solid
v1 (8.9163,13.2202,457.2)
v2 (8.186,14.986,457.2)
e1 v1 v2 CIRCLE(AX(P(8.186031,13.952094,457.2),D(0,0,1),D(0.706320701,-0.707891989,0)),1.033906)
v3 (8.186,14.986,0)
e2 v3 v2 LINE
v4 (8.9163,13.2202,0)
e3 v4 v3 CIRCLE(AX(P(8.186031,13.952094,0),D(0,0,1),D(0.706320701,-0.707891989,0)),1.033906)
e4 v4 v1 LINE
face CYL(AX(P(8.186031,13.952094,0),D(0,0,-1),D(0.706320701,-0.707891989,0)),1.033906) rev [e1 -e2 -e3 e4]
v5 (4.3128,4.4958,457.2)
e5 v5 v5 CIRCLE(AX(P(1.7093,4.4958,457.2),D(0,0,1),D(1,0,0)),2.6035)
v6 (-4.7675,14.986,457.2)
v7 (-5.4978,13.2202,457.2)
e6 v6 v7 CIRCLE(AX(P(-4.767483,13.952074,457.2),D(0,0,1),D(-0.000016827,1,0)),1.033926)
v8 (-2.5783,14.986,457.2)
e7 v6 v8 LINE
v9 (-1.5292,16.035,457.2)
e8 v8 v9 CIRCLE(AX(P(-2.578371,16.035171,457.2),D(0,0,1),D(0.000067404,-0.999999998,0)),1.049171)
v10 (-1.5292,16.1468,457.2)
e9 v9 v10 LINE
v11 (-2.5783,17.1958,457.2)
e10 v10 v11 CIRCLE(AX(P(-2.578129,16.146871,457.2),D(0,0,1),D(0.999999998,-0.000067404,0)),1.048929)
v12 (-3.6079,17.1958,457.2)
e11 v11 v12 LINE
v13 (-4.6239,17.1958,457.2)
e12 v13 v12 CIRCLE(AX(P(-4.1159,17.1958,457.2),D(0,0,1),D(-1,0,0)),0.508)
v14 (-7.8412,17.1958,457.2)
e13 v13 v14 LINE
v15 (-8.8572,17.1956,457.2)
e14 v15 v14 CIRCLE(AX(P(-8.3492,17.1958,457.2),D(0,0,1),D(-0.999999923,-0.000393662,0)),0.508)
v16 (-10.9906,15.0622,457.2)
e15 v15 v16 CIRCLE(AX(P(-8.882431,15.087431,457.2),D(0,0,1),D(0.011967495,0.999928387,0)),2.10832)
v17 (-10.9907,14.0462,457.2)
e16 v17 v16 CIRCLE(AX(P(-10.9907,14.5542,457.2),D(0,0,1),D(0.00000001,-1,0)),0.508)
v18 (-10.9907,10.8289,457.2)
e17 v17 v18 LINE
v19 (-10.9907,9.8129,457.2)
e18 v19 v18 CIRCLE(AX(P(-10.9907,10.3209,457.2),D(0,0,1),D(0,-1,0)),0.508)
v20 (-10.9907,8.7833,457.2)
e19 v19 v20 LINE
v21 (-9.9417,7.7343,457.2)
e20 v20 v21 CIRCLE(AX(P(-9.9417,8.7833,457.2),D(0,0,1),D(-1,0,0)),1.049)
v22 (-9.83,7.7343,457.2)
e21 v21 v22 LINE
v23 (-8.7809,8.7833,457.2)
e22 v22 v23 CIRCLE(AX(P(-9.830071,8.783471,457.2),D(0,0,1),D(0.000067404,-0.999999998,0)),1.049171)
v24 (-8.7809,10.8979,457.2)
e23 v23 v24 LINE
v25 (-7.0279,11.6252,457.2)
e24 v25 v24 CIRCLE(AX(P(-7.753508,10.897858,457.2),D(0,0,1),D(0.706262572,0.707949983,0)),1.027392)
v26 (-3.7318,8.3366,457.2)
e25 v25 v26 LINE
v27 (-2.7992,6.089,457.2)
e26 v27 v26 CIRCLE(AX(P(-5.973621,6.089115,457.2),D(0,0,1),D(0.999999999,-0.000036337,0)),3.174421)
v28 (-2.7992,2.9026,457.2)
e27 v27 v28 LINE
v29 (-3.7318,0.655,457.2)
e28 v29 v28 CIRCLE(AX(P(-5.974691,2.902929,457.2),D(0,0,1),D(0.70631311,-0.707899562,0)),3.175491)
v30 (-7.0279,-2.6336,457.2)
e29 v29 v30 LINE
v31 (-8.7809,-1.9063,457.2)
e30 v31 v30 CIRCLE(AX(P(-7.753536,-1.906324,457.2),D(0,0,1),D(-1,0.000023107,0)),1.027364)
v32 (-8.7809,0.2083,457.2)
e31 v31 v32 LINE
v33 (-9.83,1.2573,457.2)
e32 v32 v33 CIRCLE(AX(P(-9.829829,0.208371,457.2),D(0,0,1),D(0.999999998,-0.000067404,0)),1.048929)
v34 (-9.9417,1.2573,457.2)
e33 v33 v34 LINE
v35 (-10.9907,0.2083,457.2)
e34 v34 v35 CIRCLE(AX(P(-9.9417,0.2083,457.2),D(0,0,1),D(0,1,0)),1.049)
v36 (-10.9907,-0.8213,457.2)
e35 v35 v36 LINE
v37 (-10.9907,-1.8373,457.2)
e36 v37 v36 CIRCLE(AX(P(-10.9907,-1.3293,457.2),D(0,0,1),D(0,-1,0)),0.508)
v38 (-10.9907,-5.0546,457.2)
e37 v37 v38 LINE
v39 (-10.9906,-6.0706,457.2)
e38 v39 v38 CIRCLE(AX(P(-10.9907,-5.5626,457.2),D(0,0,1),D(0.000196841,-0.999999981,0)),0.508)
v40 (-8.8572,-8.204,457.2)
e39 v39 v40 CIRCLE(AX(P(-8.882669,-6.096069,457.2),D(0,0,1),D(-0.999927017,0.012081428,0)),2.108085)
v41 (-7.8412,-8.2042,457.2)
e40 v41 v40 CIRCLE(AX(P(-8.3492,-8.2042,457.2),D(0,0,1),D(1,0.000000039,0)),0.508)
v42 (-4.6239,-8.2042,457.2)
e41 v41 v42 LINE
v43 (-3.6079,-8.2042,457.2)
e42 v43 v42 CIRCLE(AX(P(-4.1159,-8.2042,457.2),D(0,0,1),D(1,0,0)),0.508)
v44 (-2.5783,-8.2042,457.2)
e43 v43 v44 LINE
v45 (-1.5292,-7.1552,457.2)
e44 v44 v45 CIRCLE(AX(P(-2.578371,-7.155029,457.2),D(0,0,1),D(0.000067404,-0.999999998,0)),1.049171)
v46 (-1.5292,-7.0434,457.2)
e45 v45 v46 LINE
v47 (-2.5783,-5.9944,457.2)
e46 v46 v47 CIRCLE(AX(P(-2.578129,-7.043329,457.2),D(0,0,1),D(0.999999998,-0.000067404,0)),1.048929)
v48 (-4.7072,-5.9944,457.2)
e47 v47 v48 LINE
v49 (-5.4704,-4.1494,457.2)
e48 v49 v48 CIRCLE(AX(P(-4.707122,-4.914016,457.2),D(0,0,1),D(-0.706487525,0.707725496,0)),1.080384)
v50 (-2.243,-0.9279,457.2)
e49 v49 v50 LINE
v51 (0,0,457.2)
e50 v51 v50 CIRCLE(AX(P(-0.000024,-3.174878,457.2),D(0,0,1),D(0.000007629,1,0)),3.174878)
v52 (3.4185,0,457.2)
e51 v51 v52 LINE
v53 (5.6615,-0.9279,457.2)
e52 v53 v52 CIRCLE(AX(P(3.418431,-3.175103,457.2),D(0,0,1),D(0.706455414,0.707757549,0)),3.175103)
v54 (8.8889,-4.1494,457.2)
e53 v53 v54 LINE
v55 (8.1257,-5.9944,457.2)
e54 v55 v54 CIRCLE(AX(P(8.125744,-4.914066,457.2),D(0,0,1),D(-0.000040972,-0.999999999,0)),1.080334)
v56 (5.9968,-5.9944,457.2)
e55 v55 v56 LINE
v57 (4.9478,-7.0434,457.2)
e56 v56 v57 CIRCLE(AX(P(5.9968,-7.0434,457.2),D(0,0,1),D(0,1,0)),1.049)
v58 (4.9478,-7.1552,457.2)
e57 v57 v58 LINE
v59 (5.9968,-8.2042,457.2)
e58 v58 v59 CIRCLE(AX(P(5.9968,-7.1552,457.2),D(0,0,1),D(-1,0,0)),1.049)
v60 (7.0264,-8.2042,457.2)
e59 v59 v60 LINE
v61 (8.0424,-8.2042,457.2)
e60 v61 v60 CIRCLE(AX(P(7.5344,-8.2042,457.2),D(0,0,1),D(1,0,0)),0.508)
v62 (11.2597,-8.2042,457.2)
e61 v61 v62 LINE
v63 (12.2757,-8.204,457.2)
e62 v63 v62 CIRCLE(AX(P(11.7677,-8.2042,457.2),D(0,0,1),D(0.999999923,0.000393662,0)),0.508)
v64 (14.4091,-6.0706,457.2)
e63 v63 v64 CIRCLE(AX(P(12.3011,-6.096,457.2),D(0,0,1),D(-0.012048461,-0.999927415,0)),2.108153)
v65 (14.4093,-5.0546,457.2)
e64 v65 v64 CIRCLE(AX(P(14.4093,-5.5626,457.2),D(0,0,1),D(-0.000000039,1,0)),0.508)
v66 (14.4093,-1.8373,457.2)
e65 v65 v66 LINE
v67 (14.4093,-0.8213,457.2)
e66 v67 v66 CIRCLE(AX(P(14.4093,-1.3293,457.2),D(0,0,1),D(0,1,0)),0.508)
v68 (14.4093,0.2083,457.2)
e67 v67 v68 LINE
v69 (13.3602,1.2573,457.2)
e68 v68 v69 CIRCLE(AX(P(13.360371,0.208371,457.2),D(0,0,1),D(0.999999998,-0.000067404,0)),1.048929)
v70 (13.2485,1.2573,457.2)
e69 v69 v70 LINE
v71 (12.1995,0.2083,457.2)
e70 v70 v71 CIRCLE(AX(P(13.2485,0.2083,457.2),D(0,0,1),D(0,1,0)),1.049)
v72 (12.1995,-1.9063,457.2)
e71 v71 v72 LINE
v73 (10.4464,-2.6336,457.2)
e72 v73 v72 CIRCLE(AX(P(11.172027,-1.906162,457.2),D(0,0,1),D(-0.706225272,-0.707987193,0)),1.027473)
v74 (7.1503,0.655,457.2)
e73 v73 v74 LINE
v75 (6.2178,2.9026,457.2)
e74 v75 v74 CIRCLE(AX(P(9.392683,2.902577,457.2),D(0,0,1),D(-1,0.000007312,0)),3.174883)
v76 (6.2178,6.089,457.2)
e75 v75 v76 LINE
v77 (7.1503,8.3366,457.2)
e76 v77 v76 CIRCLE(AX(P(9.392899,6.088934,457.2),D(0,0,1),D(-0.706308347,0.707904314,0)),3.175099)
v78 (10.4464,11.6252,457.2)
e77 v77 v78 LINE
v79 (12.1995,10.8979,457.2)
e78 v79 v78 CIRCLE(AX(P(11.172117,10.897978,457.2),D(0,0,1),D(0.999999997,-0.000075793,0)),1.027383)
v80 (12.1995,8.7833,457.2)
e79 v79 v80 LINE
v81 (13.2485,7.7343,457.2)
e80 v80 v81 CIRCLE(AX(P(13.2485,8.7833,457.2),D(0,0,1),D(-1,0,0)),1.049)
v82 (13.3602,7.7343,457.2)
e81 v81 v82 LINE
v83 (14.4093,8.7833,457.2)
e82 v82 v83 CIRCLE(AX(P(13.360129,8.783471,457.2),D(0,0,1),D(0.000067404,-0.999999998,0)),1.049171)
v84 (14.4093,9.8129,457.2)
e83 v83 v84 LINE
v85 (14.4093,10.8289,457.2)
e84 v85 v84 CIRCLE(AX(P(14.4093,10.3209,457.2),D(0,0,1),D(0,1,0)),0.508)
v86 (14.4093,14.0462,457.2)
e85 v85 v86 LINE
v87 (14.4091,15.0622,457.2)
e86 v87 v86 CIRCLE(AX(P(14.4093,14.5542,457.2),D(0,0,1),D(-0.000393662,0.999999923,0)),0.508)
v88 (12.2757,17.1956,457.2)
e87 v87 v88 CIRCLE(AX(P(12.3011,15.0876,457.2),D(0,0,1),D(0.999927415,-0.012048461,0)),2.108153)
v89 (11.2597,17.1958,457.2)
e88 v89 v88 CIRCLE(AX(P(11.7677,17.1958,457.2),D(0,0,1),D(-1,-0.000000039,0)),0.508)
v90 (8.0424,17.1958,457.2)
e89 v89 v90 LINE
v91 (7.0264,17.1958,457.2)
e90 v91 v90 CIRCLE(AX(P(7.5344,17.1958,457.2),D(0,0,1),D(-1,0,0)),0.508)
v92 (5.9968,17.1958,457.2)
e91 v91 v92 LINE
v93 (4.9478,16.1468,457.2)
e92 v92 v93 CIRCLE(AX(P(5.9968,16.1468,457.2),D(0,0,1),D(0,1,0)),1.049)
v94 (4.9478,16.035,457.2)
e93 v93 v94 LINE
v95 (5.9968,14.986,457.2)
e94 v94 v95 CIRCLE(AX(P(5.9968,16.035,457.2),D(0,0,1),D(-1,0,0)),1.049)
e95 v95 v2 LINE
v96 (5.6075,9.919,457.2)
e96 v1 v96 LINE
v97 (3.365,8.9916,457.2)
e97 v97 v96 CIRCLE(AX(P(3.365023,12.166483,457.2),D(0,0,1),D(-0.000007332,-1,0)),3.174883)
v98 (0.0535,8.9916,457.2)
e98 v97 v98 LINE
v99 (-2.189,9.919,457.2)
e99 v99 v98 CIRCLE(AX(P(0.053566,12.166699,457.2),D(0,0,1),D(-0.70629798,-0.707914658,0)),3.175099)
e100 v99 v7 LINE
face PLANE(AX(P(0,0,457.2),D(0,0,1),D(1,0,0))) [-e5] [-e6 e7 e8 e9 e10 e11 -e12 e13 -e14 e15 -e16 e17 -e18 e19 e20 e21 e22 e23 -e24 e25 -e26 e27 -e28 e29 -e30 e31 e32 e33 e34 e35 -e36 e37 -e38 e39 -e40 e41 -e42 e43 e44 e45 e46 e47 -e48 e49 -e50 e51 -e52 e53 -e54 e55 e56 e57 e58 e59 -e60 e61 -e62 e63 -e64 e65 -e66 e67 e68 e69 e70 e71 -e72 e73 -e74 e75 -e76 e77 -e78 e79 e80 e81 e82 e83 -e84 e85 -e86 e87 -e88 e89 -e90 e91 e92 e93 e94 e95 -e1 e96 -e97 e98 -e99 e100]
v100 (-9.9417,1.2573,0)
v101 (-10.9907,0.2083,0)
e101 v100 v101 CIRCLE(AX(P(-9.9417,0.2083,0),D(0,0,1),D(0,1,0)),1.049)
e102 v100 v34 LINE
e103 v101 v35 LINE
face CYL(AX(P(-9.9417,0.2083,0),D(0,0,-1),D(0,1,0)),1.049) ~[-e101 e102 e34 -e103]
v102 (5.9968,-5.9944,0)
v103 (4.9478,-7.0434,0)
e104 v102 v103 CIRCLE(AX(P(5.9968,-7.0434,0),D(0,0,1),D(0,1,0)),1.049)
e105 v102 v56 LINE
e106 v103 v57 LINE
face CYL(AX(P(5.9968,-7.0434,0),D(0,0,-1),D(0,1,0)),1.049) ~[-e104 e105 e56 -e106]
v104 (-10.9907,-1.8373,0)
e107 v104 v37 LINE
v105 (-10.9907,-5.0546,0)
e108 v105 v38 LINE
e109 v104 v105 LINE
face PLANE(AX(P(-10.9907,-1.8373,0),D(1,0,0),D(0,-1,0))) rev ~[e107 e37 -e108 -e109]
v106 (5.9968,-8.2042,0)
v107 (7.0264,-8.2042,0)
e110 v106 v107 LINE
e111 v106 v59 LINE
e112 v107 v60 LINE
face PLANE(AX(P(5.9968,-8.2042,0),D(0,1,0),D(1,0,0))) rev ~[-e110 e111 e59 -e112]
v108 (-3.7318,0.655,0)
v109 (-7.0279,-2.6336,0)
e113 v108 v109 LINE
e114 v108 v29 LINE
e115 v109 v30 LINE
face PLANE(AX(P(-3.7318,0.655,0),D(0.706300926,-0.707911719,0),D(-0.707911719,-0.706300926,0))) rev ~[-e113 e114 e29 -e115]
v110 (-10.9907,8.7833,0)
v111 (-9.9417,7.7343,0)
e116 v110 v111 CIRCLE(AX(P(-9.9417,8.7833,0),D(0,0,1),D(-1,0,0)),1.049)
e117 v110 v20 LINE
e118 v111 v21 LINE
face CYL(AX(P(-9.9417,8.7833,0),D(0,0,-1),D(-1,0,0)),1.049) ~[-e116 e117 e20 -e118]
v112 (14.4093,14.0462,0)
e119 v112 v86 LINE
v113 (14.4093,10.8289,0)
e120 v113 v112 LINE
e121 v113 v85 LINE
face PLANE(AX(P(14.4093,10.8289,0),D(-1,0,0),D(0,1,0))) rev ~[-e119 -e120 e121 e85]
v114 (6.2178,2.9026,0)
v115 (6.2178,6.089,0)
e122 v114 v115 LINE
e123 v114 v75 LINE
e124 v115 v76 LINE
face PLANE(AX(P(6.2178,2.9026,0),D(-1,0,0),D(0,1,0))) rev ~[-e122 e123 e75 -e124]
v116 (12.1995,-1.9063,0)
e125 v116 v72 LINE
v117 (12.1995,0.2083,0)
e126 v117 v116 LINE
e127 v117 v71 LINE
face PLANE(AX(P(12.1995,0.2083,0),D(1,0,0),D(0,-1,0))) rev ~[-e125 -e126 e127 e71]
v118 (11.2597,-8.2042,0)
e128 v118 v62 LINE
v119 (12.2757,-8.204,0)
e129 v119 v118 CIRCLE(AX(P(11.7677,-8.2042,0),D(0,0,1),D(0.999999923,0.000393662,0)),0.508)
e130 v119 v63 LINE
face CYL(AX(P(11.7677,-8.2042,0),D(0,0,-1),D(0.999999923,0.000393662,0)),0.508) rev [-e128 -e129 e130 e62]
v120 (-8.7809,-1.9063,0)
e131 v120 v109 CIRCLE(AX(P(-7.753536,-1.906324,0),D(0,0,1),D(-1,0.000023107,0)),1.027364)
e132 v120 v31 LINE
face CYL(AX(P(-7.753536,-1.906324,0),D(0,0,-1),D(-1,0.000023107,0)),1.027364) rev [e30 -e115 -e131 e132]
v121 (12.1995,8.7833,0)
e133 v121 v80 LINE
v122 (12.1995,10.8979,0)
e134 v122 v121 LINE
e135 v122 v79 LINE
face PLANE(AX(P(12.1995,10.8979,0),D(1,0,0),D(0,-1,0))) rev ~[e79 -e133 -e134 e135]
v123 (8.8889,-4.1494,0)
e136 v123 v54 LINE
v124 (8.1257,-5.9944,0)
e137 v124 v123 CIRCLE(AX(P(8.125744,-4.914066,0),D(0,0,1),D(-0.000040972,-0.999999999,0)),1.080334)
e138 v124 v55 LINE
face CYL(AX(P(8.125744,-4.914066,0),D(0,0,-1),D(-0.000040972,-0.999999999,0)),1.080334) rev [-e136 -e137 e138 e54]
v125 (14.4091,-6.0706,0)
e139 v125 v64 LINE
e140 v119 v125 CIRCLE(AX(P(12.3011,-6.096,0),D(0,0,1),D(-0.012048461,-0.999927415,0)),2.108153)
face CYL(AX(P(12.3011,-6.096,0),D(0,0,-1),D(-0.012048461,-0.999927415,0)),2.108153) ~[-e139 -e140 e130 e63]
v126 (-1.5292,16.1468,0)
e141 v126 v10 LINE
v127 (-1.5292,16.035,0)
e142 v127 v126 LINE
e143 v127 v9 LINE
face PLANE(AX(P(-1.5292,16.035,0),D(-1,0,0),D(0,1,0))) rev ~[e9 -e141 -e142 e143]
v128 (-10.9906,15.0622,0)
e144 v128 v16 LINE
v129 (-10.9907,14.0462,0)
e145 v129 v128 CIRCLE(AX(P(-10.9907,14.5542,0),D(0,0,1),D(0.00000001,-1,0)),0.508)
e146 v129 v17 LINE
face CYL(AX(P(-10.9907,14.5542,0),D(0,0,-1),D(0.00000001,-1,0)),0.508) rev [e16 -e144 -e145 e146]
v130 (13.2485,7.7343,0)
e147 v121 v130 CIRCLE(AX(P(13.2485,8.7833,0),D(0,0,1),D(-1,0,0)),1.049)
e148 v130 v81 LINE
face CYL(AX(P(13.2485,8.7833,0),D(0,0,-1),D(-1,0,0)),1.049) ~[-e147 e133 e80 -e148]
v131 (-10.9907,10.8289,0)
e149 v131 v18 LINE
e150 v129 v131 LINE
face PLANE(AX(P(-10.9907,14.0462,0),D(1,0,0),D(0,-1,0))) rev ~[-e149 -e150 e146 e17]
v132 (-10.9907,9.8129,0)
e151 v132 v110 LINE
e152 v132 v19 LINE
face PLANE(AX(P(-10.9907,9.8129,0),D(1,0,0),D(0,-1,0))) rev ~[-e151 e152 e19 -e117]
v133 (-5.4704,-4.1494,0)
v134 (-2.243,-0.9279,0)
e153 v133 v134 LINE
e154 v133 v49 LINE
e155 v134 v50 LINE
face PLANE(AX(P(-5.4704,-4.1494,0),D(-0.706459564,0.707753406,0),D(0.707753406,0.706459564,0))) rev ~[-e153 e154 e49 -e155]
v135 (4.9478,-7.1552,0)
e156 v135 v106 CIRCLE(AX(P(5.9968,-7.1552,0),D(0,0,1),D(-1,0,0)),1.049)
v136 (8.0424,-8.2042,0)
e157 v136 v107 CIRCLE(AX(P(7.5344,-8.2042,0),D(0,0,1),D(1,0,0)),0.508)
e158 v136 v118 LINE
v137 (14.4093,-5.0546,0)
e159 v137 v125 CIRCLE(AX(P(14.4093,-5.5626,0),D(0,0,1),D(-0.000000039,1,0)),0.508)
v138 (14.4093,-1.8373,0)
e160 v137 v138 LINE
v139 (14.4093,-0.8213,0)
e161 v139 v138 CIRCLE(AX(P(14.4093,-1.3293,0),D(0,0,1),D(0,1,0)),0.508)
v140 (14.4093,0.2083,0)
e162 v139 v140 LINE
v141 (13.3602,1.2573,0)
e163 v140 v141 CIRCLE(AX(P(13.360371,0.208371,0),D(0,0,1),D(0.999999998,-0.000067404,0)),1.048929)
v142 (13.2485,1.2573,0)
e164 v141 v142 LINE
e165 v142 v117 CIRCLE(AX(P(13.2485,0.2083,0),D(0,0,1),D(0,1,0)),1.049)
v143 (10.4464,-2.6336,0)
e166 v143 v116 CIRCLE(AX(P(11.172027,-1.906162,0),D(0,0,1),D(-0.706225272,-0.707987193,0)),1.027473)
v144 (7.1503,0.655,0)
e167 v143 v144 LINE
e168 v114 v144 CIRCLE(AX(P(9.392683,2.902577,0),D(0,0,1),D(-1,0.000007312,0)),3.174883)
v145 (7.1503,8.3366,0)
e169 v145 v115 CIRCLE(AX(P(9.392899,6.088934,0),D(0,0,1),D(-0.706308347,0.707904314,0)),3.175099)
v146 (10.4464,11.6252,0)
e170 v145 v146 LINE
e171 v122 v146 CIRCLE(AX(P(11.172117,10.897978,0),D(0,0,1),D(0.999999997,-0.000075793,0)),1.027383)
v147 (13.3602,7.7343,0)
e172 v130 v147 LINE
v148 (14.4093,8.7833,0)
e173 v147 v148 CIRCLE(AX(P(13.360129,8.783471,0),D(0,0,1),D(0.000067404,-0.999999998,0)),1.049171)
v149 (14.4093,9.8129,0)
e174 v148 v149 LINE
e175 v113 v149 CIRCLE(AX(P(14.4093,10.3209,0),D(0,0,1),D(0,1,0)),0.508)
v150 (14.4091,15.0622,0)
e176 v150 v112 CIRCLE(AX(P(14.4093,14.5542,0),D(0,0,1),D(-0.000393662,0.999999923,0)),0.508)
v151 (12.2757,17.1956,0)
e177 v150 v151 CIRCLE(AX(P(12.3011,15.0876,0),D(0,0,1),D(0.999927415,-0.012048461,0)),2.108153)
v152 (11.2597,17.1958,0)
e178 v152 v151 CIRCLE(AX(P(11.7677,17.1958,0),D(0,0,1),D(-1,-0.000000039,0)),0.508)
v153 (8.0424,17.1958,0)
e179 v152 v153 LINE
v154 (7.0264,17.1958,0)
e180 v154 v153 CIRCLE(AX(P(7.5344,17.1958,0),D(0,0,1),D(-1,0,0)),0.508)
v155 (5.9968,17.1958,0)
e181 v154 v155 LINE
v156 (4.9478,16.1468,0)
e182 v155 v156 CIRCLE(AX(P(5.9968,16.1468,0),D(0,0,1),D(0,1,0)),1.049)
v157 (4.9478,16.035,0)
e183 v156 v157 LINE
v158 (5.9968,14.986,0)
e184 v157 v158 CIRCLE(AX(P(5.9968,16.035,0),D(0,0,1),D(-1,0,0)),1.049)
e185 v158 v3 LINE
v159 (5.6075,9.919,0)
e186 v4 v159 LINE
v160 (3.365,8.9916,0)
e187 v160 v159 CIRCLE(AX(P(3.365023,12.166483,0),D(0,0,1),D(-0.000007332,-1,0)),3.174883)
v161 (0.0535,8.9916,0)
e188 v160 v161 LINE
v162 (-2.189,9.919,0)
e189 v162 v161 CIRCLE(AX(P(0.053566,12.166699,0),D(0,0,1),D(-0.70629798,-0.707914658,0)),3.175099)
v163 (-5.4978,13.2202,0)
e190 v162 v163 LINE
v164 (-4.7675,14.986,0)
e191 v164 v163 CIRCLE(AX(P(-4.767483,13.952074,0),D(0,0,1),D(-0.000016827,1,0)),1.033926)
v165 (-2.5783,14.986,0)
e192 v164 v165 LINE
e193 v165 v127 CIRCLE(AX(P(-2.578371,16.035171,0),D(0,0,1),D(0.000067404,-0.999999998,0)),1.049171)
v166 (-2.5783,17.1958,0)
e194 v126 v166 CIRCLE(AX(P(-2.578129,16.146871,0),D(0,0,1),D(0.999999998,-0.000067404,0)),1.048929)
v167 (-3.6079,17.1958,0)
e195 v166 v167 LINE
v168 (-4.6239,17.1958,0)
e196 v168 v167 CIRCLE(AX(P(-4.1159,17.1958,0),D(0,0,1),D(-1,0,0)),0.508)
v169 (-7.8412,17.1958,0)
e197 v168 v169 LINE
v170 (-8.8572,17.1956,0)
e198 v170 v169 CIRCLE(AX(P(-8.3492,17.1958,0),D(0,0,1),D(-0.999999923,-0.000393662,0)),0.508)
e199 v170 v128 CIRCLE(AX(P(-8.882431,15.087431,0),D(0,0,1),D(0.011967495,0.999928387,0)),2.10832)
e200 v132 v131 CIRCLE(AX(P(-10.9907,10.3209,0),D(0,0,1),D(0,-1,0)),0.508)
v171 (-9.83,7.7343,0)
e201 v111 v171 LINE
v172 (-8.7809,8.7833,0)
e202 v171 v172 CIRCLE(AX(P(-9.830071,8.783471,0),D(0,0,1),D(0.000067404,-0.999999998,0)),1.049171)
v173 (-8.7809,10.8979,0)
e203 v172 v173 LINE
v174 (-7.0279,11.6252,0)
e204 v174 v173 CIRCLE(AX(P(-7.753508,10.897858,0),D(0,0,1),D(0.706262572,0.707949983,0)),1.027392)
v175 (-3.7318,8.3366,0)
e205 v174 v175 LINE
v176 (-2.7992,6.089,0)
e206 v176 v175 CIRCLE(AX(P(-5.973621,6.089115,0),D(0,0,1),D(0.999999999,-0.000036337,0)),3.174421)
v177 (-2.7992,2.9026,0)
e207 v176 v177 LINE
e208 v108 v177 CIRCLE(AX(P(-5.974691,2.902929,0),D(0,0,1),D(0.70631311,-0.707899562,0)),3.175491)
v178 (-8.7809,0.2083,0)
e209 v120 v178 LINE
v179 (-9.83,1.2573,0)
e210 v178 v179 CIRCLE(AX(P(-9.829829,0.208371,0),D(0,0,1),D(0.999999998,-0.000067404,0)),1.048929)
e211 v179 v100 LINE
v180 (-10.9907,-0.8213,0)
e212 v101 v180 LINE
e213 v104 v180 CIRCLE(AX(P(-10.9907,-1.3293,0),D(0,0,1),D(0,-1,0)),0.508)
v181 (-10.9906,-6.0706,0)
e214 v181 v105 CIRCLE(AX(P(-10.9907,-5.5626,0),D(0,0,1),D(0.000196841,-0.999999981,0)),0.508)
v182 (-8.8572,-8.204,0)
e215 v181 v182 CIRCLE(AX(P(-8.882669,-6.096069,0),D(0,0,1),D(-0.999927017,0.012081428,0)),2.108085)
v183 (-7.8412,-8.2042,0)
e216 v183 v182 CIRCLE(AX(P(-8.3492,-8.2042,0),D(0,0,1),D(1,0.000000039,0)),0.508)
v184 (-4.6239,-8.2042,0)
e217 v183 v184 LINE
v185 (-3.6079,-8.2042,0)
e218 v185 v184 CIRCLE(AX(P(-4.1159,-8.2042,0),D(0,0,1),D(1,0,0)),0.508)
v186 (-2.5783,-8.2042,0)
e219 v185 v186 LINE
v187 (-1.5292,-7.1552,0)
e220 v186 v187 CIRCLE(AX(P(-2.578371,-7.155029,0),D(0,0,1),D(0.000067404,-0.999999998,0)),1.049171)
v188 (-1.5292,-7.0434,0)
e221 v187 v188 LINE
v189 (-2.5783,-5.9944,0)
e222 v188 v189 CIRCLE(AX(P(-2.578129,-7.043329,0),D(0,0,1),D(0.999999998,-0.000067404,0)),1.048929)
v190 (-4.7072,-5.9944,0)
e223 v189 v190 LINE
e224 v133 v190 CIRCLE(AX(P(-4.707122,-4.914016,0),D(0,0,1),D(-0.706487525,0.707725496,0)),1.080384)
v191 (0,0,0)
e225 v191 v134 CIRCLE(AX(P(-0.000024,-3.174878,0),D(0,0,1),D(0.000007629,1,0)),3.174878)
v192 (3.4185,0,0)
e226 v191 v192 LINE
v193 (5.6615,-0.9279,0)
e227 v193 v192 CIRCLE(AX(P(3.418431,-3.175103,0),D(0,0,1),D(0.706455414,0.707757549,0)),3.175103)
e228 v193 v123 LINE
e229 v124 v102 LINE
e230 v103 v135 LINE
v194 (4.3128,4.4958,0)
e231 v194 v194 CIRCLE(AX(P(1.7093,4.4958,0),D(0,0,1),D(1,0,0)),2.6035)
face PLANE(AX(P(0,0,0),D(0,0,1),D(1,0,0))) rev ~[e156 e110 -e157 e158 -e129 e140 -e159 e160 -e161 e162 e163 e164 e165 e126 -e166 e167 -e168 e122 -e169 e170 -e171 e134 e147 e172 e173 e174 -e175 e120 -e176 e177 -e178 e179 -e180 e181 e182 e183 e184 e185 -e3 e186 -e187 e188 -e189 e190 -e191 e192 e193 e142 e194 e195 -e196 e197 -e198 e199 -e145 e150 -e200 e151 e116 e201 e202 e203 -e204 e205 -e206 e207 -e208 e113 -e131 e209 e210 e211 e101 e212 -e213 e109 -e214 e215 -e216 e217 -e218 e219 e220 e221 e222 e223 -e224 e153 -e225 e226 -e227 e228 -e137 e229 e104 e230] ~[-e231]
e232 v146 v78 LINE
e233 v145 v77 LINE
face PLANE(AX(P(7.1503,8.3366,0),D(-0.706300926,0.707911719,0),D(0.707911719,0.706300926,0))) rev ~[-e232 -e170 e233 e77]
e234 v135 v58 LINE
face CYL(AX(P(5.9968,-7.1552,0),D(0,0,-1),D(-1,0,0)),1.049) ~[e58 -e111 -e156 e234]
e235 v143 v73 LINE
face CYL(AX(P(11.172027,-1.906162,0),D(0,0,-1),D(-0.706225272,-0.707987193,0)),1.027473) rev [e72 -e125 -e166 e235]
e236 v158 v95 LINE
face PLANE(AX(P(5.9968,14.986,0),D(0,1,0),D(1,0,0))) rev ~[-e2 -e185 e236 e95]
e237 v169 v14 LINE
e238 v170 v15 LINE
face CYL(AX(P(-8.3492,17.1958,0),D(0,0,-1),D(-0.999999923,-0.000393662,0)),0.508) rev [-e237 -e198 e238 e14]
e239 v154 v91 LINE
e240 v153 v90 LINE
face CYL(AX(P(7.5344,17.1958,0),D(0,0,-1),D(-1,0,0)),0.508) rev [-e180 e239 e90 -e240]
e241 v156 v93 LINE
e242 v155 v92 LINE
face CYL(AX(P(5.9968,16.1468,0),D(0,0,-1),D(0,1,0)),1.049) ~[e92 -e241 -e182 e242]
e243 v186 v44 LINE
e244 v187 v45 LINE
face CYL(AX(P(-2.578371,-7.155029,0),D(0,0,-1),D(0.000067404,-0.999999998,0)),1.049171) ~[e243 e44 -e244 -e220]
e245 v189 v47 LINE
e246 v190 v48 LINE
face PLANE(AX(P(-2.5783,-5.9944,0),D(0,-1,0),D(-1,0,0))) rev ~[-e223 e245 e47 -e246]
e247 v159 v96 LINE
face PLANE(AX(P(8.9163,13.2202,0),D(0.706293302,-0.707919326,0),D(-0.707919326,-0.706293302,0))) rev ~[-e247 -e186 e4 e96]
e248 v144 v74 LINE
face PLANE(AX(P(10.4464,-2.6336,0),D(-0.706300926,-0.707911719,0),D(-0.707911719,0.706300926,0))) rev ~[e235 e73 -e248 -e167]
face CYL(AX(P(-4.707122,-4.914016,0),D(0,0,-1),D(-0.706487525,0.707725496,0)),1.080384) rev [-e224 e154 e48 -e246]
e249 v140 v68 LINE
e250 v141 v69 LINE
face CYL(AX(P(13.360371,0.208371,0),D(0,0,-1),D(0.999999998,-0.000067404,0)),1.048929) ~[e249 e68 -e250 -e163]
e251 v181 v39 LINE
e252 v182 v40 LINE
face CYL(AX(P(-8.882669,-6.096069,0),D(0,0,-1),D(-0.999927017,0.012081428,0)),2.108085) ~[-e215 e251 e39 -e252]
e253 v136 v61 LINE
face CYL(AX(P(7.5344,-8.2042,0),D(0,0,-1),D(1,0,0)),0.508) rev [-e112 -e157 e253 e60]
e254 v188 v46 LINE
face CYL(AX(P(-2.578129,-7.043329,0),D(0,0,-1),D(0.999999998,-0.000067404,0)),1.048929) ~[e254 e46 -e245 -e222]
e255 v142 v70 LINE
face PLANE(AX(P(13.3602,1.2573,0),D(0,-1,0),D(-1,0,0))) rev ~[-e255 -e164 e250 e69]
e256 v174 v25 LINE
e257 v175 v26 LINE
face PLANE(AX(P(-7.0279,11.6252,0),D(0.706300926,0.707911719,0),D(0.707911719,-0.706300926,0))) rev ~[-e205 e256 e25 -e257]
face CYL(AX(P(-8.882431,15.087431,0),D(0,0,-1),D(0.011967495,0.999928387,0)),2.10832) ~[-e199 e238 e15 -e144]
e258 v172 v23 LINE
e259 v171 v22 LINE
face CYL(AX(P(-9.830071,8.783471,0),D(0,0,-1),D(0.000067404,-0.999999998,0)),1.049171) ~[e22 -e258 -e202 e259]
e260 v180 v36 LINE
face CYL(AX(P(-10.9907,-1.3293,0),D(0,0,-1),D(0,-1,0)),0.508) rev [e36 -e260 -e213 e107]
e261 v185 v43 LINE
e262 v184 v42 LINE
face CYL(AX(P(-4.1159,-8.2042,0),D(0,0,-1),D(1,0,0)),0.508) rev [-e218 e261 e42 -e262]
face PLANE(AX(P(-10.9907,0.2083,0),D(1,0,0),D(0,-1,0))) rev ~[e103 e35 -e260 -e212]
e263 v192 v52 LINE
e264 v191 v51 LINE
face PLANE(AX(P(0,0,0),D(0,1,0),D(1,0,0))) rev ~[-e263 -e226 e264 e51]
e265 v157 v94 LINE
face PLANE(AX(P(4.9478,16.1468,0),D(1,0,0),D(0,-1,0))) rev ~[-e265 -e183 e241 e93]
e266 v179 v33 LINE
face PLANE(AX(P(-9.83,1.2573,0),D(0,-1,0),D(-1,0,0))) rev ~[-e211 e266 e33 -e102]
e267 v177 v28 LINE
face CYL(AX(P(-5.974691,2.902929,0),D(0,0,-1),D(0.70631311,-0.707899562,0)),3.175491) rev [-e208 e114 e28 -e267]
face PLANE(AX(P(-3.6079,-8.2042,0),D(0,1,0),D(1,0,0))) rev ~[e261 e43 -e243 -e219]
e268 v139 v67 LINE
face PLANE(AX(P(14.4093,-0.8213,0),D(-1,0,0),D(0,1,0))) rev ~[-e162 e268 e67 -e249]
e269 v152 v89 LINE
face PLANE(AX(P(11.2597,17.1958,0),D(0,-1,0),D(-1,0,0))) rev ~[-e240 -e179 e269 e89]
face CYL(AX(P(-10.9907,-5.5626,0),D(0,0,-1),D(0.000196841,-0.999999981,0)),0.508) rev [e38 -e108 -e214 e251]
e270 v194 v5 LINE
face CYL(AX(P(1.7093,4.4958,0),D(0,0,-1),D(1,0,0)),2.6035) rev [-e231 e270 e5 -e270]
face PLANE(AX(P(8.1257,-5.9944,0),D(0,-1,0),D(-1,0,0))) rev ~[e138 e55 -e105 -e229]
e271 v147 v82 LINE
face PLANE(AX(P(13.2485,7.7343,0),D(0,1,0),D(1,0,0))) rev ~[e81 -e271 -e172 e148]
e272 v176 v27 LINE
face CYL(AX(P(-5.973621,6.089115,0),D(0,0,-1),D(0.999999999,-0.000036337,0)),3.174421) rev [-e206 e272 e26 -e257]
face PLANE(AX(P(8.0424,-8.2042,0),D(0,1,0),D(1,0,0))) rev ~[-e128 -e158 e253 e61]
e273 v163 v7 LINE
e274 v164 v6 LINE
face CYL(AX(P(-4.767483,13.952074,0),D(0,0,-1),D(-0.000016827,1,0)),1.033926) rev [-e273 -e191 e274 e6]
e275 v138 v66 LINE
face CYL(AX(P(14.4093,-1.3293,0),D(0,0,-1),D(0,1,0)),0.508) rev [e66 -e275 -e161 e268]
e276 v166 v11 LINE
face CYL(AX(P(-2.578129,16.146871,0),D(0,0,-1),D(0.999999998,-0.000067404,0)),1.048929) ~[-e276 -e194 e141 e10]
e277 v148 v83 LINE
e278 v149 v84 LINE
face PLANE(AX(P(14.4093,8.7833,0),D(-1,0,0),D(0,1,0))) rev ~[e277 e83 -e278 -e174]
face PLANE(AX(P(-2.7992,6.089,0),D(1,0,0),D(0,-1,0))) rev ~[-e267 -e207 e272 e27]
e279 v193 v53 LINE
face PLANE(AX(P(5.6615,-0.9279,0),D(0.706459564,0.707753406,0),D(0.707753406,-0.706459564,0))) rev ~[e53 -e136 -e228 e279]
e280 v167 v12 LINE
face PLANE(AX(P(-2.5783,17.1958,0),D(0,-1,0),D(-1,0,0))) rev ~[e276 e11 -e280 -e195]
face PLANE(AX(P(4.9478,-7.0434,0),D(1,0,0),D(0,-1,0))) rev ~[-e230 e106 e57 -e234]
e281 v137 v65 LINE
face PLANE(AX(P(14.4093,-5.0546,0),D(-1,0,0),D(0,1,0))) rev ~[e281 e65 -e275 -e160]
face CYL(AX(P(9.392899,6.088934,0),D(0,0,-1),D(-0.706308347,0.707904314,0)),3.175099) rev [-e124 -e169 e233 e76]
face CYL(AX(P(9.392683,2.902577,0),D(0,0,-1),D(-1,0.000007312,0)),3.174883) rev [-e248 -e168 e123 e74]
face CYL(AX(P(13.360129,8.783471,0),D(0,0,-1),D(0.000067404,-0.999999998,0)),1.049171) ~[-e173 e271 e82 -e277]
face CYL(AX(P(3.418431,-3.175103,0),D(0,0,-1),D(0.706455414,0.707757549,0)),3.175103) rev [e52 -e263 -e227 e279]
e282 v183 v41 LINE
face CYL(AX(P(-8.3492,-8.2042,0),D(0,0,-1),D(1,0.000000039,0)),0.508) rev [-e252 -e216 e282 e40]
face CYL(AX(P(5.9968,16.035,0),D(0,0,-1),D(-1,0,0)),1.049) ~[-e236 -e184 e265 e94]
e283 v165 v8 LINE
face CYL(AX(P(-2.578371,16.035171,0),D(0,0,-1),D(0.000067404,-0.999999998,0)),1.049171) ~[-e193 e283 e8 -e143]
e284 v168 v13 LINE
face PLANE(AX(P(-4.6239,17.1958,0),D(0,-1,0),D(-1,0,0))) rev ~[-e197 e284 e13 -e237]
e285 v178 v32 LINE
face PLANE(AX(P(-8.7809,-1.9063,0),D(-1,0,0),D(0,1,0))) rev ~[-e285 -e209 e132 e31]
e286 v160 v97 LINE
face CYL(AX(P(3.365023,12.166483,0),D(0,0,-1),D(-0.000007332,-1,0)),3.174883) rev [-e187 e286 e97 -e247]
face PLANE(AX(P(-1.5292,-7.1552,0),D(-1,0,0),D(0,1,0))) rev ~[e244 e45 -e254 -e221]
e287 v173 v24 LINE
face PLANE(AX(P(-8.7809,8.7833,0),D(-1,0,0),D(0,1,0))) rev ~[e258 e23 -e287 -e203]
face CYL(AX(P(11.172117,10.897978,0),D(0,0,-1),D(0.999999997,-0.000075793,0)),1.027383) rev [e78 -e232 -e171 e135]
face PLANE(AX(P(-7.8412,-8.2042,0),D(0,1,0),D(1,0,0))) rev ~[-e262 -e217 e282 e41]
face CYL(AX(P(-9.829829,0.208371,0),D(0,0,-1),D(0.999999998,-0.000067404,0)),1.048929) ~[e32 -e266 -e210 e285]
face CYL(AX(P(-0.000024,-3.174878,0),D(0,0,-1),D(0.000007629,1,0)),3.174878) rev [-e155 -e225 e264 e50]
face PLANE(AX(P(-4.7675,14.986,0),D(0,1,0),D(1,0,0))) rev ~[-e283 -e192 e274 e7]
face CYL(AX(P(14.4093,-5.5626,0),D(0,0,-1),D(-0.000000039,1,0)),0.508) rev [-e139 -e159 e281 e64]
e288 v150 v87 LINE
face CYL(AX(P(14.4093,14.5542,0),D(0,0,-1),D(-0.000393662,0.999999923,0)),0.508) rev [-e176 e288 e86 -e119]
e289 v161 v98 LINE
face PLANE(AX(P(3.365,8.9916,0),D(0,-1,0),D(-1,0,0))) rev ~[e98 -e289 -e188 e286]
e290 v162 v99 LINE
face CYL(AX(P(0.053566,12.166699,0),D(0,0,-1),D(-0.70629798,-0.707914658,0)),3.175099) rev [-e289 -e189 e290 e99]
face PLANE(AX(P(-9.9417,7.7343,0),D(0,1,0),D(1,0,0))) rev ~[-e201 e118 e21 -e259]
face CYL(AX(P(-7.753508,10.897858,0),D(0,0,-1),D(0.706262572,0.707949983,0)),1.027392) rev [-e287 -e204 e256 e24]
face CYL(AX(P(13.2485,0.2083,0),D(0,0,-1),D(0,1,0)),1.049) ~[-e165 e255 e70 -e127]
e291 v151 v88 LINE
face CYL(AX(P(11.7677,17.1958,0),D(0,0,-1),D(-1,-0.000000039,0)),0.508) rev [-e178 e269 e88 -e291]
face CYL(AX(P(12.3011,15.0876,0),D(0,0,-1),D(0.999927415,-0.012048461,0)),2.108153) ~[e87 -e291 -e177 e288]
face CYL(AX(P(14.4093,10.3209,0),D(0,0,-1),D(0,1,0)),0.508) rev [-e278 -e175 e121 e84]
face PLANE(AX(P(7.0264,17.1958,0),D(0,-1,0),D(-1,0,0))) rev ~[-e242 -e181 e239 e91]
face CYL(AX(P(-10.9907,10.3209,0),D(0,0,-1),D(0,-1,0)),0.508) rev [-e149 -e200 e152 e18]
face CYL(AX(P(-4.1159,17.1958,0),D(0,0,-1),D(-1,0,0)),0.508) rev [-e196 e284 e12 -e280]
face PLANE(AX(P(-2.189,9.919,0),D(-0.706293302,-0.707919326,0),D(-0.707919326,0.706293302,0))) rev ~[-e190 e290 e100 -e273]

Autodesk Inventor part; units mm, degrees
ref_plane "YZ Plane" through (0, 0, 0) normal (1, 0, 0) x (0, 1, 0)
ref_plane "XZ Plane" through (0, 0, 0) normal (0, 1, 0) x (-1, 0, 0)
ref_plane "XY Plane" through (0, 0, 0) normal (0, 0, 1) x (1, 0, 0)
sketch "Sketch1" plane through (0, 0, 0) normal (0, 0, 1) x (1, 0, 0)
  arc A0 (-5.4704, -4.1494) -> (-4.7072, -5.9944) centre (-4.7072, -4.914) ccw
  line L0 (-5.4704, -4.1494) -> (-2.243, -0.9279)
  arc A1 (0, 0) -> (-2.243, -0.9279) centre (0, -3.175) ccw
  line L1 (0, 0) -> (3.4185, 0)
  arc A2 (5.6615, -0.9279) -> (3.4185, 0) centre (3.4185, -3.175) ccw
  line L2 (5.6615, -0.9279) -> (8.8889, -4.1494)
  arc A3 (8.1257, -5.9944) -> (8.8889, -4.1494) centre (8.1257, -4.914) ccw
  line L3 (8.1257, -5.9944) -> (5.9968, -5.9944)
  arc A4 (5.9968, -5.9944) -> (4.9478, -7.0434) centre (5.9968, -7.0434) ccw
  line L4 (4.9478, -7.0434) -> (4.9478, -7.1552)
  arc A5 (4.9478, -7.1552) -> (5.9968, -8.2042) centre (5.9968, -7.1552) ccw
  line L5 (5.9968, -8.2042) -> (7.0264, -8.2042)
  arc A6 (8.0424, -8.2042) -> (7.0264, -8.2042) centre (7.5344, -8.2042) ccw
  line L6 (8.0424, -8.2042) -> (11.2597, -8.2042)
  arc A7 (12.2757, -8.204) -> (11.2597, -8.2042) centre (11.7677, -8.2042) ccw
  arc A8 (12.2757, -8.204) -> (14.4091, -6.0706) centre (12.3011, -6.096) ccw
  arc A9 (14.4093, -5.0546) -> (14.4091, -6.0706) centre (14.4093, -5.5626) ccw
  line L7 (14.4093, -5.0546) -> (14.4093, -1.8373)
  arc A10 (14.4093, -0.8213) -> (14.4093, -1.8373) centre (14.4093, -1.3293) ccw
  line L8 (14.4093, -0.8213) -> (14.4093, 0.2083)
  arc A11 (14.4093, 0.2083) -> (13.3602, 1.2573) centre (13.3602, 0.2083) ccw
  line L9 (13.3602, 1.2573) -> (13.2485, 1.2573)
  arc A12 (13.2485, 1.2573) -> (12.1995, 0.2083) centre (13.2485, 0.2083) ccw
  line L10 (12.1995, 0.2083) -> (12.1995, -1.9063)
  arc A13 (10.4464, -2.6336) -> (12.1995, -1.9063) centre (11.172, -1.9063) ccw
  line L11 (10.4464, -2.6336) -> (7.1503, 0.655)
  arc A14 (6.2178, 2.9026) -> (7.1503, 0.655) centre (9.3928, 2.9026) ccw
  line L12 (6.2178, 2.9026) -> (6.2178, 6.089)
  arc A15 (7.1503, 8.3366) -> (6.2178, 6.089) centre (9.3928, 6.089) ccw
  line L13 (7.1503, 8.3366) -> (10.4464, 11.6252)
  arc A16 (12.1995, 10.8979) -> (10.4464, 11.6252) centre (11.172, 10.8979) ccw
  line L14 (12.1995, 10.8979) -> (12.1995, 8.7833)
  arc A17 (12.1995, 8.7833) -> (13.2485, 7.7343) centre (13.2485, 8.7833) ccw
  line L15 (13.2485, 7.7343) -> (13.3602, 7.7343)
  arc A18 (13.3602, 7.7343) -> (14.4093, 8.7833) centre (13.3602, 8.7833) ccw
  line L16 (14.4093, 8.7833) -> (14.4093, 9.8129)
  arc A19 (14.4093, 10.8289) -> (14.4093, 9.8129) centre (14.4093, 10.3209) ccw
  line L17 (14.4093, 10.8289) -> (14.4093, 14.0462)
  arc A20 (14.4091, 15.0622) -> (14.4093, 14.0462) centre (14.4093, 14.5542) ccw
  arc A21 (14.4091, 15.0622) -> (12.2757, 17.1956) centre (12.3011, 15.0876) ccw
  arc A22 (11.2597, 17.1958) -> (12.2757, 17.1956) centre (11.7677, 17.1958) ccw
  line L18 (11.2597, 17.1958) -> (8.0424, 17.1958)
  arc A23 (7.0264, 17.1958) -> (8.0424, 17.1958) centre (7.5344, 17.1958) ccw
  line L19 (7.0264, 17.1958) -> (5.9968, 17.1958)
  arc A24 (5.9968, 17.1958) -> (4.9478, 16.1468) centre (5.9968, 16.1468) ccw
  line L20 (4.9478, 16.1468) -> (4.9478, 16.035)
  arc A25 (4.9478, 16.035) -> (5.9968, 14.986) centre (5.9968, 16.035) ccw
  line L21 (5.9968, 14.986) -> (8.186, 14.986)
  arc A26 (8.9163, 13.2202) -> (8.186, 14.986) centre (8.186, 13.9521) ccw
  line L22 (8.9163, 13.2202) -> (5.6075, 9.919)
  arc A27 (3.365, 8.9916) -> (5.6075, 9.919) centre (3.365, 12.1666) ccw
  line L23 (3.365, 8.9916) -> (0.0535, 8.9916)
  arc A28 (-2.189, 9.919) -> (0.0535, 8.9916) centre (0.0535, 12.1666) ccw
  line L24 (-2.189, 9.919) -> (-5.4978, 13.2202)
  arc A29 (-4.7675, 14.986) -> (-5.4978, 13.2202) centre (-4.7675, 13.9521) ccw
  line L25 (-4.7675, 14.986) -> (-2.5783, 14.986)
  arc A30 (-2.5783, 14.986) -> (-1.5292, 16.035) centre (-2.5783, 16.035) ccw
  line L26 (-1.5292, 16.035) -> (-1.5292, 16.1468)
  arc A31 (-1.5292, 16.1468) -> (-2.5783, 17.1958) centre (-2.5783, 16.1468) ccw
  line L27 (-2.5783, 17.1958) -> (-3.6079, 17.1958)
  arc A32 (-4.6239, 17.1958) -> (-3.6079, 17.1958) centre (-4.1159, 17.1958) ccw
  line L28 (-4.6239, 17.1958) -> (-7.8412, 17.1958)
  arc A33 (-8.8572, 17.1956) -> (-7.8412, 17.1958) centre (-8.3492, 17.1958) ccw
  arc A34 (-8.8572, 17.1956) -> (-10.9906, 15.0622) centre (-8.8825, 15.0876) ccw
  arc A35 (-10.9907, 14.0462) -> (-10.9906, 15.0622) centre (-10.9907, 14.5542) ccw
  line L29 (-10.9907, 14.0462) -> (-10.9907, 10.8289)
  arc A36 (-10.9907, 9.8129) -> (-10.9907, 10.8289) centre (-10.9907, 10.3209) ccw
  line L30 (-10.9907, 9.8129) -> (-10.9907, 8.7833)
  arc A37 (-10.9907, 8.7833) -> (-9.9417, 7.7343) centre (-9.9417, 8.7833) ccw
  line L31 (-9.9417, 7.7343) -> (-9.83, 7.7343)
  arc A38 (-9.83, 7.7343) -> (-8.7809, 8.7833) centre (-9.83, 8.7833) ccw
  line L32 (-8.7809, 8.7833) -> (-8.7809, 10.8979)
  arc A39 (-7.0279, 11.6252) -> (-8.7809, 10.8979) centre (-7.7535, 10.8979) ccw
  line L33 (-7.0279, 11.6252) -> (-3.7318, 8.3366)
  arc A40 (-2.7992, 6.089) -> (-3.7318, 8.3366) centre (-5.9742, 6.089) ccw
  line L34 (-2.7992, 6.089) -> (-2.7992, 2.9026)
  arc A41 (-3.7318, 0.655) -> (-2.7992, 2.9026) centre (-5.9742, 2.9026) ccw
  line L35 (-3.7318, 0.655) -> (-7.0279, -2.6336)
  arc A42 (-8.7809, -1.9063) -> (-7.0279, -2.6336) centre (-7.7535, -1.9063) ccw
  line L36 (-8.7809, -1.9063) -> (-8.7809, 0.2083)
  arc A43 (-8.7809, 0.2083) -> (-9.83, 1.2573) centre (-9.83, 0.2083) ccw
  line L37 (-9.83, 1.2573) -> (-9.9417, 1.2573)
  arc A44 (-9.9417, 1.2573) -> (-10.9907, 0.2083) centre (-9.9417, 0.2083) ccw
  line L38 (-10.9907, 0.2083) -> (-10.9907, -0.8213)
  arc A45 (-10.9907, -1.8373) -> (-10.9907, -0.8213) centre (-10.9907, -1.3293) ccw
  line L39 (-10.9907, -1.8373) -> (-10.9907, -5.0546)
  arc A46 (-10.9906, -6.0706) -> (-10.9907, -5.0546) centre (-10.9907, -5.5626) ccw
  arc A47 (-10.9906, -6.0706) -> (-8.8572, -8.204) centre (-8.8825, -6.096) ccw
  arc A48 (-7.8412, -8.2042) -> (-8.8572, -8.204) centre (-8.3492, -8.2042) ccw
  line L40 (-7.8412, -8.2042) -> (-4.6239, -8.2042)
  arc A49 (-3.6079, -8.2042) -> (-4.6239, -8.2042) centre (-4.1159, -8.2042) ccw
  line L41 (-3.6079, -8.2042) -> (-2.5783, -8.2042)
  arc A50 (-2.5783, -8.2042) -> (-1.5292, -7.1552) centre (-2.5783, -7.1552) ccw
  line L42 (-1.5292, -7.1552) -> (-1.5292, -7.0434)
  arc A51 (-1.5292, -7.0434) -> (-2.5783, -5.9944) centre (-2.5783, -7.0434) ccw
  line L43 (-2.5783, -5.9944) -> (-4.7072, -5.9944)
  circle A52 centre (1.7093, 4.4958) radius 2.6035
extrude "Extrusion1" add sketch "Sketch1" along normal blind 457.2
properties part number "18in 1x1 T slot"
